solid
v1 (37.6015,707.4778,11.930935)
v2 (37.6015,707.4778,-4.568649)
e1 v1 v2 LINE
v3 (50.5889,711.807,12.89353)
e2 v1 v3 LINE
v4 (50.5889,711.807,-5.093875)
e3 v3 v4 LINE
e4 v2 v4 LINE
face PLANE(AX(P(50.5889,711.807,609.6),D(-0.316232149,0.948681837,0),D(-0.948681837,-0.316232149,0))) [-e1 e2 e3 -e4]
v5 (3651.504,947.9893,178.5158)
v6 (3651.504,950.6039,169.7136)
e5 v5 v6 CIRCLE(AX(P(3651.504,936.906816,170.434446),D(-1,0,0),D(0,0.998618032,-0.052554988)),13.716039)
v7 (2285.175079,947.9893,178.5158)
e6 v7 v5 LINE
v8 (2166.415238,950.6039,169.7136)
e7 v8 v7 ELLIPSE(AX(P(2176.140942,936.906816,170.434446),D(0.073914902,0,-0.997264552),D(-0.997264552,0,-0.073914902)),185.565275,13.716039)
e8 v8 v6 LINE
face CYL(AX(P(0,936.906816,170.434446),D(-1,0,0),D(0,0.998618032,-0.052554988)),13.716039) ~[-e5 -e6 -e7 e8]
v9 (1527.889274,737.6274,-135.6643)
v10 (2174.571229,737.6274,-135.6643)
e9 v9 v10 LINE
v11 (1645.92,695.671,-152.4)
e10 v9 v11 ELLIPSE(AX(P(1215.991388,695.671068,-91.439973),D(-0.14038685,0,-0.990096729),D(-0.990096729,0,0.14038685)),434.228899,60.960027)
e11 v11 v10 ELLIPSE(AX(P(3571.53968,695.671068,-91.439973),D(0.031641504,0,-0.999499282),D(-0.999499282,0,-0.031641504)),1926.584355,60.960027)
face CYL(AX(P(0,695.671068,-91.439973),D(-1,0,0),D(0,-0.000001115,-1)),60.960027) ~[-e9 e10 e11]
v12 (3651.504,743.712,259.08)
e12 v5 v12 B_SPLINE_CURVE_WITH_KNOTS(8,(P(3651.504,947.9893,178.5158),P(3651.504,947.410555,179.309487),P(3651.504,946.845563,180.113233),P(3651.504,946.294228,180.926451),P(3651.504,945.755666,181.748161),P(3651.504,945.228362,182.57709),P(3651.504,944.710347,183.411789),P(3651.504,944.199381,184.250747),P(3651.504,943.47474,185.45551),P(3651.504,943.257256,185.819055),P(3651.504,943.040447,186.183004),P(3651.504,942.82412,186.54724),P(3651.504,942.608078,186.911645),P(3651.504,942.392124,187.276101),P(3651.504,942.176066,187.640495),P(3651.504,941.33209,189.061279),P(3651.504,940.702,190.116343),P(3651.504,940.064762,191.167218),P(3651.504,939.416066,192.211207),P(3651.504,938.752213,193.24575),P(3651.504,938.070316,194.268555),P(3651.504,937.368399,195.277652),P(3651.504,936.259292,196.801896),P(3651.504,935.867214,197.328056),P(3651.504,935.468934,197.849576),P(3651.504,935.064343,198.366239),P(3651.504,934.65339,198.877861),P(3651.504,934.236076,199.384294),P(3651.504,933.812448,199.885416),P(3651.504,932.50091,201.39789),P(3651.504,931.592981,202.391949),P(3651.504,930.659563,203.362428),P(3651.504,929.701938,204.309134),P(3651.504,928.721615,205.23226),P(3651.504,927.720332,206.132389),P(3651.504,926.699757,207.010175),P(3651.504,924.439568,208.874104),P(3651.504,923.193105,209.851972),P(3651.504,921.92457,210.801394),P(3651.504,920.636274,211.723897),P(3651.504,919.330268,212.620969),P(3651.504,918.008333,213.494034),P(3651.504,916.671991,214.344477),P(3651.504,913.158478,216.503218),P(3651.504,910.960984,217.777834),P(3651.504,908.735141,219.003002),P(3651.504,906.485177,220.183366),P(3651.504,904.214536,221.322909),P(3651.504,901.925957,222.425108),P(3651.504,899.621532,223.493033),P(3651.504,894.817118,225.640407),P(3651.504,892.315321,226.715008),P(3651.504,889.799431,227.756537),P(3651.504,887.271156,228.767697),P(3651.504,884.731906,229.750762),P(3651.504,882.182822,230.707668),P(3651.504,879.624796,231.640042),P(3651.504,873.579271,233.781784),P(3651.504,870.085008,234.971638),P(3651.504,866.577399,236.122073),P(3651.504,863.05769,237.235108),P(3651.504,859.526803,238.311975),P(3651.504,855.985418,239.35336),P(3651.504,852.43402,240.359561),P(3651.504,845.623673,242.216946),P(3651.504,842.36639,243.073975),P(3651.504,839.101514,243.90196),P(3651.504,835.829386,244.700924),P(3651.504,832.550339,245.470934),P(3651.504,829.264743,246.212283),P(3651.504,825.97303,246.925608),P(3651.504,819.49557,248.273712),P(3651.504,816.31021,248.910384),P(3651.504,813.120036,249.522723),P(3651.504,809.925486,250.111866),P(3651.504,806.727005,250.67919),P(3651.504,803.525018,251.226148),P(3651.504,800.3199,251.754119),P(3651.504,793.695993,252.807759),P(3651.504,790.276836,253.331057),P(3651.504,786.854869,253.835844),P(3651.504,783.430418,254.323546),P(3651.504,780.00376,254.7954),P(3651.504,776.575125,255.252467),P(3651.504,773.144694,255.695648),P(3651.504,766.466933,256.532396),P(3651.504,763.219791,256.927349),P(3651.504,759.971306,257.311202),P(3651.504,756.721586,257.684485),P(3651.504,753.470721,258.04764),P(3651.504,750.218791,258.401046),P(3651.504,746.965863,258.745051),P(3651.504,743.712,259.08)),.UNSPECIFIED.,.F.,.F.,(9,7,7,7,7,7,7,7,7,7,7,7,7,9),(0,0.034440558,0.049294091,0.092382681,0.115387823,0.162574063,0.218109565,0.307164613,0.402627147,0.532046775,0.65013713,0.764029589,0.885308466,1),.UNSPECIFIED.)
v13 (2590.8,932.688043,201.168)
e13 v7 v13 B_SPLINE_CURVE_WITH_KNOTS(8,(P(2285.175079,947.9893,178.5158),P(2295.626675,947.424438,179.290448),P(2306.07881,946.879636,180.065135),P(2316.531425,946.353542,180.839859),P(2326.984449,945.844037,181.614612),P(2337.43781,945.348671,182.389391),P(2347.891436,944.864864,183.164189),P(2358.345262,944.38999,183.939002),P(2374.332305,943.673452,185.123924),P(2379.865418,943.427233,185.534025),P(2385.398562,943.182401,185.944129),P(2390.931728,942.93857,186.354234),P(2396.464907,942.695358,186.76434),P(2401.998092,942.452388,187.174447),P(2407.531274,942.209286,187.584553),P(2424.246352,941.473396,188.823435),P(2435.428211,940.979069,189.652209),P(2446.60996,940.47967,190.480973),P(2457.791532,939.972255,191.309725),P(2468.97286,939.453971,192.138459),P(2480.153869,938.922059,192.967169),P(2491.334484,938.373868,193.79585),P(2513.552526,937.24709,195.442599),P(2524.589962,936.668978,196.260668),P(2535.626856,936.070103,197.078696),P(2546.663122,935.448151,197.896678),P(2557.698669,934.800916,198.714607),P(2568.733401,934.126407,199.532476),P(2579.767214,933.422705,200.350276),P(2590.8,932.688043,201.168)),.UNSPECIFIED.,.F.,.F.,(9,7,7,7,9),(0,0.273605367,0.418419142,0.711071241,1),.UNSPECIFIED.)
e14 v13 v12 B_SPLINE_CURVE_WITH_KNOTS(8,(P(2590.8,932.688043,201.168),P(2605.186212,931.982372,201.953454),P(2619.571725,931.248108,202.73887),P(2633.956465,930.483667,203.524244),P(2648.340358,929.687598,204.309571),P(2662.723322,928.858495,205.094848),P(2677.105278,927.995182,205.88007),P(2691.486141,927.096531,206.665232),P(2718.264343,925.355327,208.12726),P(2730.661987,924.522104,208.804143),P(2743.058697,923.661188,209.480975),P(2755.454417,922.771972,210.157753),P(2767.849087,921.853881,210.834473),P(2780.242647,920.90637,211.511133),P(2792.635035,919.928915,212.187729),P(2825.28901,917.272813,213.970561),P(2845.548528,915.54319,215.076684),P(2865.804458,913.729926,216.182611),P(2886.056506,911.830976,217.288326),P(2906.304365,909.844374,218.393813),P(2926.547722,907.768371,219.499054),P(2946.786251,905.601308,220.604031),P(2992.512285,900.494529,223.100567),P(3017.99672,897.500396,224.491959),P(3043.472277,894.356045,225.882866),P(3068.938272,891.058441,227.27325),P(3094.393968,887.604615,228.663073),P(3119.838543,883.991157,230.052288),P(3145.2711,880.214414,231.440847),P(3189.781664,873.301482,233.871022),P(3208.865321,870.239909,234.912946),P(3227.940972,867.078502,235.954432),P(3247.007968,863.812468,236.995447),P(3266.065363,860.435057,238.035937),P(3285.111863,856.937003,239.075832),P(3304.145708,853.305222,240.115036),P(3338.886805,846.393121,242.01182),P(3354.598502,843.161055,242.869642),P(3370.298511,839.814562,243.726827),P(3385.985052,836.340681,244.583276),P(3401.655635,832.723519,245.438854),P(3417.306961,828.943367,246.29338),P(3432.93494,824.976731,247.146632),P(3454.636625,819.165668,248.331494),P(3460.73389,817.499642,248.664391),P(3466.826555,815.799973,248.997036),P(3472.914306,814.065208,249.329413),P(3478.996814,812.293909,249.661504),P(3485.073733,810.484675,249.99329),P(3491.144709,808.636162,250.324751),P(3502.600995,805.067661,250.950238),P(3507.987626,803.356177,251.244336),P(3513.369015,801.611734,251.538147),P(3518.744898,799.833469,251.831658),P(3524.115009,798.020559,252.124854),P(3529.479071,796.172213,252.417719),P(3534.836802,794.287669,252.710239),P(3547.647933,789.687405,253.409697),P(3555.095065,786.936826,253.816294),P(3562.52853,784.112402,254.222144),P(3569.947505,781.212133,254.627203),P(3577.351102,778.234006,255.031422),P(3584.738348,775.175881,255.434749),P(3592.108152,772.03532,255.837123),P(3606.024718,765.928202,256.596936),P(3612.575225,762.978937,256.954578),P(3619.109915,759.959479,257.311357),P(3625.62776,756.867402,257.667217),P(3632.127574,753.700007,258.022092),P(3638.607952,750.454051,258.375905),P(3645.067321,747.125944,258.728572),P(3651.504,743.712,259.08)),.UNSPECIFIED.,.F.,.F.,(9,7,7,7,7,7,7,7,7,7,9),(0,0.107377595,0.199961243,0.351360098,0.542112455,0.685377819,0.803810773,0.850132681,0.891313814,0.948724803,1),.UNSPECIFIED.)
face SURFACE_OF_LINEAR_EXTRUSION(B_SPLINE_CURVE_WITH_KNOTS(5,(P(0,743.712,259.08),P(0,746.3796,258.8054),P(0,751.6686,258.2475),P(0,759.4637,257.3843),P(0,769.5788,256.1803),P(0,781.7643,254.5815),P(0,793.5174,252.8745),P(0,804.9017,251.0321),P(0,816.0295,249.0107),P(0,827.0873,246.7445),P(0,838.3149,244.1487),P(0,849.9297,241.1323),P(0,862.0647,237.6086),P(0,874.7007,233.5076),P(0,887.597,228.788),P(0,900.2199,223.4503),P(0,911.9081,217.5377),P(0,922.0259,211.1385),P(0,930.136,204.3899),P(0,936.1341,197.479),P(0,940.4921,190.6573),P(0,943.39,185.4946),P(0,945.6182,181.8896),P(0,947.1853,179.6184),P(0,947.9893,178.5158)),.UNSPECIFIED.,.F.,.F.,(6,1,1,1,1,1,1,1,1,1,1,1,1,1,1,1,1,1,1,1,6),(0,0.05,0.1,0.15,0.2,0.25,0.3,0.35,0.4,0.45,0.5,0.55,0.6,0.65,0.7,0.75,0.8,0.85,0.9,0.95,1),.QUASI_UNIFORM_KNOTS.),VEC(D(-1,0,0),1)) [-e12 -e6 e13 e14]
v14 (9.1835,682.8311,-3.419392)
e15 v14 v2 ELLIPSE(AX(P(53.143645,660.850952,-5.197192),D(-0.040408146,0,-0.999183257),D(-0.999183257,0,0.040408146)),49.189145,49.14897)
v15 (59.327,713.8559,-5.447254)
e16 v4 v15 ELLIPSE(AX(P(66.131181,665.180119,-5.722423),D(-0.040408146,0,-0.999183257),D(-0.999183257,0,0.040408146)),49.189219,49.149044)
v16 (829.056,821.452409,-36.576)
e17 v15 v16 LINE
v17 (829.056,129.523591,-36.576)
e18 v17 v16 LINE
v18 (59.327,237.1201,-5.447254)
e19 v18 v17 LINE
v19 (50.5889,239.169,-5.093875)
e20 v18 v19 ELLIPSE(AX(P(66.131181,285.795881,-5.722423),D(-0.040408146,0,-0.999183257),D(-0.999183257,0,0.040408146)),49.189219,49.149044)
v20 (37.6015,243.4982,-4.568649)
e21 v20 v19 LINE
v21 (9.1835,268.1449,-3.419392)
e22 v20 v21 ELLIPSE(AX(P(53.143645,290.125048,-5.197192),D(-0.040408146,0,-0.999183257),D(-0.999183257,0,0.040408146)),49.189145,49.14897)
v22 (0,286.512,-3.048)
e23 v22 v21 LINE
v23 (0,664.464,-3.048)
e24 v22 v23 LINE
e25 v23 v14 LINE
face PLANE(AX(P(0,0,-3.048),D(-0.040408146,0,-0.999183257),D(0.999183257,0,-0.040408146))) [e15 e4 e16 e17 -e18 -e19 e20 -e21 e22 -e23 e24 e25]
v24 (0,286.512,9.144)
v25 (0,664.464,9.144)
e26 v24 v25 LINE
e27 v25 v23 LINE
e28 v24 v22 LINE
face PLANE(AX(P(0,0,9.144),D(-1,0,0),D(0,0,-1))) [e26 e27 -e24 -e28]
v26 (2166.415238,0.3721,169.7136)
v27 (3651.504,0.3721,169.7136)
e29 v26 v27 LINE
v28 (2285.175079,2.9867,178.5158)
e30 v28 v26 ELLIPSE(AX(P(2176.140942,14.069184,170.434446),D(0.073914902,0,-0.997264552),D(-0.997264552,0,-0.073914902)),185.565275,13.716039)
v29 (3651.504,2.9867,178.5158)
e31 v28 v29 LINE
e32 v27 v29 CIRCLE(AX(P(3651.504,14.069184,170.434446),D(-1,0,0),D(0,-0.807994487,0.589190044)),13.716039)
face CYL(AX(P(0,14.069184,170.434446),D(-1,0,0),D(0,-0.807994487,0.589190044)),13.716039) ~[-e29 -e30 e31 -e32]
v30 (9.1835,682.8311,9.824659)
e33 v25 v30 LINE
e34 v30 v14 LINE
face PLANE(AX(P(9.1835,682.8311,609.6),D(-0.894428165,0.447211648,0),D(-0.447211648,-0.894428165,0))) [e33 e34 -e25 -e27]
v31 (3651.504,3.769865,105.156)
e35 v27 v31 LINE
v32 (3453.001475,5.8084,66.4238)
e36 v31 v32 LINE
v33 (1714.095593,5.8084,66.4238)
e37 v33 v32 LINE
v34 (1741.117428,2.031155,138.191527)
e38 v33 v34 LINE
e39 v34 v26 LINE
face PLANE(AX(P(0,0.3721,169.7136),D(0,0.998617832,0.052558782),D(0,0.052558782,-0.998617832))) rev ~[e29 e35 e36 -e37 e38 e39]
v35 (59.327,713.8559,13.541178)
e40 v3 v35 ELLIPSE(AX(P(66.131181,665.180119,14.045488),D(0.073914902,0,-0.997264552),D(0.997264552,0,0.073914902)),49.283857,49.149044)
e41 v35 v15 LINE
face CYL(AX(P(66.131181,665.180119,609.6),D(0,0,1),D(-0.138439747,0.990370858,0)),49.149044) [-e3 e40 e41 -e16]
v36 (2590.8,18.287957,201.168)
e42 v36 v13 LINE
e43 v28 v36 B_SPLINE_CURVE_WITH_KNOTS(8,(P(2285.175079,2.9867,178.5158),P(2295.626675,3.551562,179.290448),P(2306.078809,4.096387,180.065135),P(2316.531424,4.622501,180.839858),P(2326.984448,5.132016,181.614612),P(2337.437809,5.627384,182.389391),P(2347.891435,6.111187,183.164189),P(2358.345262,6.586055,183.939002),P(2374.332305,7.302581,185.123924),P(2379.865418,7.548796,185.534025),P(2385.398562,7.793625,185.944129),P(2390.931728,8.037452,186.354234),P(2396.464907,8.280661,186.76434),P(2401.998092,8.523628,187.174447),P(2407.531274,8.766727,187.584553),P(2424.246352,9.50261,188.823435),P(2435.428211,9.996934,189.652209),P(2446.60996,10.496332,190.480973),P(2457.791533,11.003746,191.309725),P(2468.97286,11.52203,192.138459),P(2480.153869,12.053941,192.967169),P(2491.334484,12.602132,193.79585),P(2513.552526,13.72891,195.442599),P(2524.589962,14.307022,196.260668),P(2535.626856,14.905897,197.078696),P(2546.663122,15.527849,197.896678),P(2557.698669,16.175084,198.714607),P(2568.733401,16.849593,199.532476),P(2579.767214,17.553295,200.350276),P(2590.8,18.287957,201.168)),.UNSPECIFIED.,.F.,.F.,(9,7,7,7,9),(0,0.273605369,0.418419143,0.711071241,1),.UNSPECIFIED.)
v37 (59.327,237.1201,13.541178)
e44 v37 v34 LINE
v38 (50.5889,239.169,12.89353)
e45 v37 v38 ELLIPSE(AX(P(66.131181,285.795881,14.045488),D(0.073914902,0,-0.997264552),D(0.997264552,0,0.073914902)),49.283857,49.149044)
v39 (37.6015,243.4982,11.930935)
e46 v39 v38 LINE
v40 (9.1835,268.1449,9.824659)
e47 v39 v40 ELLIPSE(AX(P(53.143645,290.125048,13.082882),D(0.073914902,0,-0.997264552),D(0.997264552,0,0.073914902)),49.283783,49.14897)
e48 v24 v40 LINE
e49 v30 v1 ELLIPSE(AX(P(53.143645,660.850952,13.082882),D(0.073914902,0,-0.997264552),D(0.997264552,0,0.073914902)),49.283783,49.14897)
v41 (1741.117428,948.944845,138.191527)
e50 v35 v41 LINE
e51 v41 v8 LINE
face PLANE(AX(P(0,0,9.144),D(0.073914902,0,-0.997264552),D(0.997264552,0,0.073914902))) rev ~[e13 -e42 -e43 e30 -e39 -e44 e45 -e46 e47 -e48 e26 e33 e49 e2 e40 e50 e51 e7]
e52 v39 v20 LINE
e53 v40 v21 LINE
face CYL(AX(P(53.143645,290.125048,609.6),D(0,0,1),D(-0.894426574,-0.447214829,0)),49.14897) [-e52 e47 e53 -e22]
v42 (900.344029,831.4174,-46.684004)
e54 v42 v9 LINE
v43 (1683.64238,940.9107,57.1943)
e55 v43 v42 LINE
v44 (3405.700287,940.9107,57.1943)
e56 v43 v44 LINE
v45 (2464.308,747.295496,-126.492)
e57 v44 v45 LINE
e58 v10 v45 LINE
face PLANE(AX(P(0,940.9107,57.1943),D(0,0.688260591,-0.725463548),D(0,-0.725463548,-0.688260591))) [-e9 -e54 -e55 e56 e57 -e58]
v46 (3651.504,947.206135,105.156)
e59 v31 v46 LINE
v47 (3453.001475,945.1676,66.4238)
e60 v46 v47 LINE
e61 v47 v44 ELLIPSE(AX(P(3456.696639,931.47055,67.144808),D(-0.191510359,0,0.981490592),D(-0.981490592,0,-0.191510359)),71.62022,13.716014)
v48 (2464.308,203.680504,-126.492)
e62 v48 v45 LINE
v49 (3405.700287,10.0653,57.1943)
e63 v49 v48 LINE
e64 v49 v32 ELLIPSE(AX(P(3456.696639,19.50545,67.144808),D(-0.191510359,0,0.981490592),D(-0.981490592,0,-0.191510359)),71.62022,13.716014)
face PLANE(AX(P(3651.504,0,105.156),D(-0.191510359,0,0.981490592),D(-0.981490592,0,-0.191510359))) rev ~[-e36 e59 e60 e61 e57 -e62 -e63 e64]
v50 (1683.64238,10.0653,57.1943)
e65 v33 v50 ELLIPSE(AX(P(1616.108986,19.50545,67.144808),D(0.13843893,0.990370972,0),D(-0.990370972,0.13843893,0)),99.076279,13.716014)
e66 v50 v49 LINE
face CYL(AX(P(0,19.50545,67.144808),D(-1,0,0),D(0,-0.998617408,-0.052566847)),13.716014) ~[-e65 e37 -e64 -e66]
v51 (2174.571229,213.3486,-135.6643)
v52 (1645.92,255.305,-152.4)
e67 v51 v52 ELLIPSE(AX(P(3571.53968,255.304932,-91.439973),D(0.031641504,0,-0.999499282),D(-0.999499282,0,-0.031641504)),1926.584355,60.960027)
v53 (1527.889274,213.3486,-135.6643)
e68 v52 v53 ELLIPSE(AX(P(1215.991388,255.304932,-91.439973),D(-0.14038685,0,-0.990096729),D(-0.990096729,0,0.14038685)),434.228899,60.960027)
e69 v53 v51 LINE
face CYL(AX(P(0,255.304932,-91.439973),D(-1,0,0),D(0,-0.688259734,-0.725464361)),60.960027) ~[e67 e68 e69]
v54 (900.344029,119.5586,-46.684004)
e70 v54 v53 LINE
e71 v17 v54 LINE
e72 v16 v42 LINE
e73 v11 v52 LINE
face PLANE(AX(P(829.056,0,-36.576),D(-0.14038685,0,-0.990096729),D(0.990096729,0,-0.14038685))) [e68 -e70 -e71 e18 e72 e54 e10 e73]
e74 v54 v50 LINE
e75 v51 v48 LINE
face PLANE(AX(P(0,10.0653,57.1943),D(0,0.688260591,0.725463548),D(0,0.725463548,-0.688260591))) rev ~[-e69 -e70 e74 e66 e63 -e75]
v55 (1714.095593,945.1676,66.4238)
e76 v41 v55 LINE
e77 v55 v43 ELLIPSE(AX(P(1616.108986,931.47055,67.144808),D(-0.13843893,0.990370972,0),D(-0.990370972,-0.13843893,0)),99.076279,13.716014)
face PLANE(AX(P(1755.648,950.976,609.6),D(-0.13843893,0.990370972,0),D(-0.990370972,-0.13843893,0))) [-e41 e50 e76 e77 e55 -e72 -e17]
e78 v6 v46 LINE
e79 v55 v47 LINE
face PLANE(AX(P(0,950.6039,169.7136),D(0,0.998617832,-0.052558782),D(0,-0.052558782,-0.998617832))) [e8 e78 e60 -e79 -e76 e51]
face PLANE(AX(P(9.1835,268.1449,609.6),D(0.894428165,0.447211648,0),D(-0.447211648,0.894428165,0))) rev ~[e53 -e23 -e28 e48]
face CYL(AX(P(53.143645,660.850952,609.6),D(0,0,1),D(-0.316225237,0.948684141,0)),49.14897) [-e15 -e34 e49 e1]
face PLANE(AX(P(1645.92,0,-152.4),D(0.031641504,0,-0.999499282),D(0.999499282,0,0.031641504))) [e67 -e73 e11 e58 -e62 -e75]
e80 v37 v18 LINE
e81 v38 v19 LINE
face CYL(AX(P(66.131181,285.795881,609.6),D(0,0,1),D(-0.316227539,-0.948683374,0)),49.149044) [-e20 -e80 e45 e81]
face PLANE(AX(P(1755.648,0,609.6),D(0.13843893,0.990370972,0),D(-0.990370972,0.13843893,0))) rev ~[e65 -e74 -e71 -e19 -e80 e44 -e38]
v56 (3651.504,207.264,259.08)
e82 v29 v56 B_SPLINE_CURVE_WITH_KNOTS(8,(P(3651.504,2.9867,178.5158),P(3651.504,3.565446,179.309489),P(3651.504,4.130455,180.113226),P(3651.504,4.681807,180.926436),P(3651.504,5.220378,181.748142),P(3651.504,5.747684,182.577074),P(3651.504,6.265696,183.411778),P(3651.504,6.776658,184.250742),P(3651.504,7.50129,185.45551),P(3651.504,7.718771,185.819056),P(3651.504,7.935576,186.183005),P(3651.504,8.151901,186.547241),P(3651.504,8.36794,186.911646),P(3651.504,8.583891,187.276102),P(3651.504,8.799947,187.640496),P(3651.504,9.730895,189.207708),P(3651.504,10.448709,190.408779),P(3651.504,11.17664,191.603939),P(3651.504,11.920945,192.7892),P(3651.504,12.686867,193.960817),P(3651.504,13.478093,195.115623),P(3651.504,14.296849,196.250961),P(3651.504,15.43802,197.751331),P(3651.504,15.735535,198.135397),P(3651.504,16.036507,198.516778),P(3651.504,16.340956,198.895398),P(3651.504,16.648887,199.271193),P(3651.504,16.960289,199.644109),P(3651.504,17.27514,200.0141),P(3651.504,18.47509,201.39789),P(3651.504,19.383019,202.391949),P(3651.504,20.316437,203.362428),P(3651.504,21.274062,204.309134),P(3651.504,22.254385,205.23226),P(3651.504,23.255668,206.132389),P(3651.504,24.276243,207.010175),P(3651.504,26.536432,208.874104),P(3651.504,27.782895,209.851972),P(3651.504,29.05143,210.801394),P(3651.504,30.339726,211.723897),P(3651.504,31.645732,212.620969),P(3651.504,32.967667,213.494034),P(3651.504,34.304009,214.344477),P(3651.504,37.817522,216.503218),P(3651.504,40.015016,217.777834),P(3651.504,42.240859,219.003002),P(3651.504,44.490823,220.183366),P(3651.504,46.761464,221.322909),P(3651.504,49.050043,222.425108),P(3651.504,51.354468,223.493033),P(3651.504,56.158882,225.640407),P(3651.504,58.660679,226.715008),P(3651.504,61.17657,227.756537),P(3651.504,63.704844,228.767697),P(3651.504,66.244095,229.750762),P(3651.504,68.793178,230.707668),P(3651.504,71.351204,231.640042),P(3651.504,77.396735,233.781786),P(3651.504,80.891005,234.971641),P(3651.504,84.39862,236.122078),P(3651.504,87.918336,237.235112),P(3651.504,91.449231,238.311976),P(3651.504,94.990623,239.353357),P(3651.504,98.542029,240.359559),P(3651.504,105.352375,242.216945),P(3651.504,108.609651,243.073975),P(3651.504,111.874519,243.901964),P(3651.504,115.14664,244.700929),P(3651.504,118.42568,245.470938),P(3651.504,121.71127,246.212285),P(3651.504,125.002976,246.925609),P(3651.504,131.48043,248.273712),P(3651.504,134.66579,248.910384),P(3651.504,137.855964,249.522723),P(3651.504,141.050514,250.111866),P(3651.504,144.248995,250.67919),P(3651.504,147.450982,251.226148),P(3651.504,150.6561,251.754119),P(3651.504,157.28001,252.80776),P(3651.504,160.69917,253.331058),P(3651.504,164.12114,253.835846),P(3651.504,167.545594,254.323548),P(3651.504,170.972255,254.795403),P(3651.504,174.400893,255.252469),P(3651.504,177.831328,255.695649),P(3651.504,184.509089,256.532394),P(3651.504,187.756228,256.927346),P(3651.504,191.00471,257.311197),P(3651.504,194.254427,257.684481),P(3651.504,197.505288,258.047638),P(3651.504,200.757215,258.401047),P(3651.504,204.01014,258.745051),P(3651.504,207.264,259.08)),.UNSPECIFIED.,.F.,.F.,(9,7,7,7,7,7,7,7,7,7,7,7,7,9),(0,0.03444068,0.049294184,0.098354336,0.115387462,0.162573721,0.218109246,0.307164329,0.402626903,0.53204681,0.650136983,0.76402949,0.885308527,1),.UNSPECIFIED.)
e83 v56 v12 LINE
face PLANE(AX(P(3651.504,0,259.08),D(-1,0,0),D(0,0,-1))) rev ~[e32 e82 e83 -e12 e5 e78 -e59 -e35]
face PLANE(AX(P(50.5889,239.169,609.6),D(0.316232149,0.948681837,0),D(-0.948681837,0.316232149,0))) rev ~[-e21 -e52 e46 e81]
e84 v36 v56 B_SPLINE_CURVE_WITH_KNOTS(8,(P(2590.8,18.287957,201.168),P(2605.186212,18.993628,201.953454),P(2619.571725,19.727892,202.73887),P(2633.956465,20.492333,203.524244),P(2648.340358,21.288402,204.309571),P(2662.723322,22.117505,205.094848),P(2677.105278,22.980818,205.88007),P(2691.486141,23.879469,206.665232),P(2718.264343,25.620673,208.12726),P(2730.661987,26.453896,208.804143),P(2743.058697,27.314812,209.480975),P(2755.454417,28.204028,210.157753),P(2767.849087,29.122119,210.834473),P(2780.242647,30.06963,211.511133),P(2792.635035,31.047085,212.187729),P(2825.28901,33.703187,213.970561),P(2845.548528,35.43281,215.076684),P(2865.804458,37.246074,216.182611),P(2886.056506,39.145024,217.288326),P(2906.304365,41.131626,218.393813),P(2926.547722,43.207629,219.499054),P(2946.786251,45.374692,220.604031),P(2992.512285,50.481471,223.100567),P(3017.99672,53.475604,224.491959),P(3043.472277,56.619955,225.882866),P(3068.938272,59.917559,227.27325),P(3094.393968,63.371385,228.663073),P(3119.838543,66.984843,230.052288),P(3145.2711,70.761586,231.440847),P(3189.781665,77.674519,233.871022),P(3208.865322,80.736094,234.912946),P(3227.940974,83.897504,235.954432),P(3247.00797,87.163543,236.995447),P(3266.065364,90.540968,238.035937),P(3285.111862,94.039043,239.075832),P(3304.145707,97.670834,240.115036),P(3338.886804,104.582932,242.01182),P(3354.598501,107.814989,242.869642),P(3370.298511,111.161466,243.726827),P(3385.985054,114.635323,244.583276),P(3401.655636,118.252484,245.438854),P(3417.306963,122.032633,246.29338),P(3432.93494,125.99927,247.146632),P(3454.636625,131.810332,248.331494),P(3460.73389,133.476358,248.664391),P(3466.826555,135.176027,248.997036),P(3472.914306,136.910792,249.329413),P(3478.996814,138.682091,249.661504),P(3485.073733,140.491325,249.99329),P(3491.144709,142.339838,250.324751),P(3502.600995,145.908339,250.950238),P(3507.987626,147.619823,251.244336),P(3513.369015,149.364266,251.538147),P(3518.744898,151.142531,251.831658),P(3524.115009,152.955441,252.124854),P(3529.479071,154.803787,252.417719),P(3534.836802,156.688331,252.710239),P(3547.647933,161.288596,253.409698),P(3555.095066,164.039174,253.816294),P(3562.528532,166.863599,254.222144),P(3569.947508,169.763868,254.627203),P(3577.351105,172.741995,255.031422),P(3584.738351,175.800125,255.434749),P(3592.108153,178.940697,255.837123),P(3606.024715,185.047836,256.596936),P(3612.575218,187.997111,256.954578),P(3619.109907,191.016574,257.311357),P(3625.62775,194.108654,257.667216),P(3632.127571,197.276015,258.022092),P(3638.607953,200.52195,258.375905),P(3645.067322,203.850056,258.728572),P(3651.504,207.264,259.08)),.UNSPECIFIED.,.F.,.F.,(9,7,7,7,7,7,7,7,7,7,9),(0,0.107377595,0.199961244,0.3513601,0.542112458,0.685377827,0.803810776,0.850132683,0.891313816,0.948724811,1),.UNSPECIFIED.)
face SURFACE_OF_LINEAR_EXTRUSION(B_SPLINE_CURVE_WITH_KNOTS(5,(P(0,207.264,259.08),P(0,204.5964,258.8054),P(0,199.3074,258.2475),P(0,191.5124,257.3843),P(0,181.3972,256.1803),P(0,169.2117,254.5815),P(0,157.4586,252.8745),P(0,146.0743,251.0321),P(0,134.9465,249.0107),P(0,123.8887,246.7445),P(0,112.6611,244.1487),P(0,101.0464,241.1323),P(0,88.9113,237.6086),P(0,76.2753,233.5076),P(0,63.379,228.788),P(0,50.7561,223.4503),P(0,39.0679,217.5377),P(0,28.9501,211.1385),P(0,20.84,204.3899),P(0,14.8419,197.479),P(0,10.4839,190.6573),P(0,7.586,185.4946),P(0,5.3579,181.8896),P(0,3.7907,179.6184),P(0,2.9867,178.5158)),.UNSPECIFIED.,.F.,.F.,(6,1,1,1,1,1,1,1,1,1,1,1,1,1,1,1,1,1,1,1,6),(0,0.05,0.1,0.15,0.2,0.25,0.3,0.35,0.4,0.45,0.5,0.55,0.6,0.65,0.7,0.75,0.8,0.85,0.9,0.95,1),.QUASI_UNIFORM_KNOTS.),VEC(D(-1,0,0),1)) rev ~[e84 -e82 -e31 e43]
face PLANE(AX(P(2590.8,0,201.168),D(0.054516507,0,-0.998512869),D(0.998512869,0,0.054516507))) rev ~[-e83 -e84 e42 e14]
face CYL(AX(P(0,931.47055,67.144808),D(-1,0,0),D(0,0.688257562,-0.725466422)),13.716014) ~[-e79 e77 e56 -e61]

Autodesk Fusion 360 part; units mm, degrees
sketch "Sketch1" plane through (0, 0, 0) normal (0, 1, 0) x (1, 0, 0)
  line L0 (0, 0) -> (3657.6, 0) construction
  line L1 (0, -9.144) -> (2590.8, -201.168)
  line L2 (2590.8, -201.168) -> (3651.504, -259.08)
  line L3 (3651.504, -259.08) -> (3651.504, -105.156)
  line L4 (3651.504, -105.156) -> (2464.308, 126.492)
  line L5 (0, -9.144) -> (0, 3.048)
  line L6 (0, 3.048) -> (829.056, 36.576)
  line L7 (829.056, 36.576) -> (1645.92, 152.4)
  line L8 (1645.92, 152.4) -> (2464.308, 126.492)
  dimension "d1" = 3657.6
extrude "Extrude1" add sketch "Sketch1" along normal blind 950.976
sketch "Sketch3" plane through (0, 0, 0) normal (0, 0, 1) x (1, 0, 0)
  line L0 (3657.6, 0) -> (3657.6, 950.976)
  dimension "d4" = 950.976
ref_plane "WorkPlane1" through (0, 0, 609.6) normal (0, 0, 1) x (1, 0, 0)
sketch "Sketch5" plane through (0, 0, 609.6) normal (0, 0, 1) x (1, 0, 0)
sketch "Sketch4" plane through (0, 0, 609.6) normal (0, 0, 1) x (1, 0, 0)
  line L0 (0, 0) -> (0, 950.976)
  line L1 (0, 475.488) -> (3657.5999, 475.488)
  line L2 (1755.648, 950.976) -> (59.327, 713.8559)
  line L3 (50.5889, 711.807) -> (37.6015, 707.4778)
  line L4 (9.1835, 682.8311) -> (0, 664.464)
  line L5 (0, 950.976) -> (1755.648, 950.976)
  arc A0 (37.6015, 707.4778) -> (9.1835, 682.8311) centre (53.1437, 660.851) ccw
  arc A1 (59.327, 713.8559) -> (50.5889, 711.807) centre (66.1311, 665.1801) ccw
  line L6 (1755.648, 0) -> (59.327, 237.1201)
  arc A2 (50.5889, 239.169) -> (59.327, 237.1201) centre (66.1311, 285.7959) ccw
  line L7 (50.5889, 239.169) -> (37.6015, 243.4982)
  arc A3 (9.1835, 268.1449) -> (37.6015, 243.4982) centre (53.1437, 290.125) ccw
  line L8 (9.1835, 268.1449) -> (0, 286.512)
  line L9 (0, 0) -> (1755.648, 0)
  dimension "d5" = 49.149
extrude "Extrude3" cut sketch "Sketch4" against normal blind 1005.84
sketch "Sketch6" plane through (0, 0, 0) normal (1, 0, 0) x (0, 1, 0)
  line L0 (975.36, 274.32) -> (-30.48, 274.32)
  line L1 (-30.48, 274.32) -> (-30.48, -182.88)
  line L2 (-30.48, -182.88) -> (975.36, -182.88)
  line L3 (975.36, -182.88) -> (975.36, 274.32)
  line L4 (950.976, 259.08) -> (0, 259.08) construction
  line L5 (475.488, 259.08) -> (475.488, 329.184)
  line L6 (475.488, 329.184) -> (475.488, -259.9361)
  line L7 (475.488, 259.08) -> (743.712, 259.08)
  line L8 (950.6039, 169.7136) -> (945.1676, 66.4238)
  line L9 (940.9107, 57.1943) -> (737.6274, -135.6643)
  line L10 (707.136, -164.592) -> (707.136, -182.88)
  spline S0 degree 5 poles (743.712, 259.08) (746.3796, 258.8054) (751.6686, 258.2475) (759.4637, 257.3843) (769.5788, 256.1803) (781.7643, 254.5815) (793.5174, 252.8745) (804.9017, 251.0321) (816.0295, 249.0107) (827.0873, 246.7445) (838.3149, 244.1487) (849.9297, 241.1323) (862.0647, 237.6086) (874.7007, 233.5076) (887.597, 228.788) (900.2199, 223.4503) (911.9081, 217.5377) (922.0259, 211.1385) (930.136, 204.3899) (936.1341, 197.479) (940.4921, 190.6573) (943.39, 185.4946) (945.6182, 181.8896) (947.1853, 179.6184) (947.9893, 178.5158) knots 0 0 0 0 0 0 0.05 0.1 0.15 0.2 0.25 0.3 0.35 0.4 0.45 0.5 0.55 0.6 0.65 0.7 0.75 0.8 0.85 0.9 0.95 1 1 1 1 1 1
  arc A0 (950.6039, 169.7136) -> (947.9893, 178.5158) centre (936.9068, 170.4345) ccw
  arc A1 (940.9107, 57.1943) -> (945.1676, 66.4238) centre (931.4705, 67.1447) ccw
  line L11 (475.488, -152.4) -> (695.671, -152.4)
  arc A2 (695.671, -152.4) -> (737.6274, -135.6643) centre (695.671, -91.44) ccw
  line L12 (0, 259.08) -> (950.976, 259.08) construction
  spline S1 degree 5 poles (207.264, 259.08) (204.5964, 258.8054) (199.3074, 258.2475) (191.5124, 257.3843) (181.3972, 256.1803) (169.2117, 254.5815) (157.4586, 252.8745) (146.0743, 251.0321) (134.9465, 249.0107) (123.8887, 246.7445) (112.6611, 244.1487) (101.0464, 241.1323) (88.9113, 237.6086) (76.2753, 233.5076) (63.379, 228.788) (50.7561, 223.4503) (39.0679, 217.5377) (28.9501, 211.1385) (20.84, 204.3899) (14.8419, 197.479) (10.4839, 190.6573) (7.586, 185.4946) (5.3579, 181.8896) (3.7907, 179.6184) (2.9867, 178.5158) knots 0 0 0 0 0 0 0.05 0.1 0.15 0.2 0.25 0.3 0.35 0.4 0.45 0.5 0.55 0.6 0.65 0.7 0.75 0.8 0.85 0.9 0.95 1 1 1 1 1 1
  line L13 (717.3108, 261.7973) -> (770.1132, 256.3627)
  line L14 (935.3956, 195.7866) -> (960.5831, 161.245)
  line L15 (233.6652, 261.7973) -> (180.8628, 256.3627)
  line L16 (15.5804, 195.7866) -> (-9.6071, 161.245)
  line L17 (0.3721, 169.7136) -> (5.8084, 66.4238)
  arc A3 (2.9867, 178.5158) -> (0.3721, 169.7136) centre (14.0692, 170.4345) ccw
  arc A4 (5.8084, 66.4238) -> (10.0653, 57.1943) centre (19.5055, 67.1447) ccw
  line L18 (10.0653, 57.1943) -> (213.3486, -135.6643)
  arc A5 (213.3486, -135.6643) -> (255.305, -152.4) centre (255.305, -91.44) ccw
  line L19 (475.488, -152.4) -> (255.305, -152.4)
  line L20 (207.264, 259.08) -> (475.488, 259.08)
  point P0 (810.768, 249.936)
  point P1 (874.5914, 233.4128)
  point P2 (932.688, 201.168)
  point P3 (140.208, 249.936)
  point P4 (76.3846, 233.4128)
  point P5 (18.288, 201.168)
  dimension "d13" = 13.716
  dimension "d14" = 60.96
extrude "Extrude4" cut sketch "Sketch6" along normal blind 3962.4 contours L0 L2 L3 L5 L6 L7 L8 L9 S0 A0 A1 L11 A2 | L0 L1 L2 L5 L6 S1 L17 A3 A4 L18 A5 L19 L20
